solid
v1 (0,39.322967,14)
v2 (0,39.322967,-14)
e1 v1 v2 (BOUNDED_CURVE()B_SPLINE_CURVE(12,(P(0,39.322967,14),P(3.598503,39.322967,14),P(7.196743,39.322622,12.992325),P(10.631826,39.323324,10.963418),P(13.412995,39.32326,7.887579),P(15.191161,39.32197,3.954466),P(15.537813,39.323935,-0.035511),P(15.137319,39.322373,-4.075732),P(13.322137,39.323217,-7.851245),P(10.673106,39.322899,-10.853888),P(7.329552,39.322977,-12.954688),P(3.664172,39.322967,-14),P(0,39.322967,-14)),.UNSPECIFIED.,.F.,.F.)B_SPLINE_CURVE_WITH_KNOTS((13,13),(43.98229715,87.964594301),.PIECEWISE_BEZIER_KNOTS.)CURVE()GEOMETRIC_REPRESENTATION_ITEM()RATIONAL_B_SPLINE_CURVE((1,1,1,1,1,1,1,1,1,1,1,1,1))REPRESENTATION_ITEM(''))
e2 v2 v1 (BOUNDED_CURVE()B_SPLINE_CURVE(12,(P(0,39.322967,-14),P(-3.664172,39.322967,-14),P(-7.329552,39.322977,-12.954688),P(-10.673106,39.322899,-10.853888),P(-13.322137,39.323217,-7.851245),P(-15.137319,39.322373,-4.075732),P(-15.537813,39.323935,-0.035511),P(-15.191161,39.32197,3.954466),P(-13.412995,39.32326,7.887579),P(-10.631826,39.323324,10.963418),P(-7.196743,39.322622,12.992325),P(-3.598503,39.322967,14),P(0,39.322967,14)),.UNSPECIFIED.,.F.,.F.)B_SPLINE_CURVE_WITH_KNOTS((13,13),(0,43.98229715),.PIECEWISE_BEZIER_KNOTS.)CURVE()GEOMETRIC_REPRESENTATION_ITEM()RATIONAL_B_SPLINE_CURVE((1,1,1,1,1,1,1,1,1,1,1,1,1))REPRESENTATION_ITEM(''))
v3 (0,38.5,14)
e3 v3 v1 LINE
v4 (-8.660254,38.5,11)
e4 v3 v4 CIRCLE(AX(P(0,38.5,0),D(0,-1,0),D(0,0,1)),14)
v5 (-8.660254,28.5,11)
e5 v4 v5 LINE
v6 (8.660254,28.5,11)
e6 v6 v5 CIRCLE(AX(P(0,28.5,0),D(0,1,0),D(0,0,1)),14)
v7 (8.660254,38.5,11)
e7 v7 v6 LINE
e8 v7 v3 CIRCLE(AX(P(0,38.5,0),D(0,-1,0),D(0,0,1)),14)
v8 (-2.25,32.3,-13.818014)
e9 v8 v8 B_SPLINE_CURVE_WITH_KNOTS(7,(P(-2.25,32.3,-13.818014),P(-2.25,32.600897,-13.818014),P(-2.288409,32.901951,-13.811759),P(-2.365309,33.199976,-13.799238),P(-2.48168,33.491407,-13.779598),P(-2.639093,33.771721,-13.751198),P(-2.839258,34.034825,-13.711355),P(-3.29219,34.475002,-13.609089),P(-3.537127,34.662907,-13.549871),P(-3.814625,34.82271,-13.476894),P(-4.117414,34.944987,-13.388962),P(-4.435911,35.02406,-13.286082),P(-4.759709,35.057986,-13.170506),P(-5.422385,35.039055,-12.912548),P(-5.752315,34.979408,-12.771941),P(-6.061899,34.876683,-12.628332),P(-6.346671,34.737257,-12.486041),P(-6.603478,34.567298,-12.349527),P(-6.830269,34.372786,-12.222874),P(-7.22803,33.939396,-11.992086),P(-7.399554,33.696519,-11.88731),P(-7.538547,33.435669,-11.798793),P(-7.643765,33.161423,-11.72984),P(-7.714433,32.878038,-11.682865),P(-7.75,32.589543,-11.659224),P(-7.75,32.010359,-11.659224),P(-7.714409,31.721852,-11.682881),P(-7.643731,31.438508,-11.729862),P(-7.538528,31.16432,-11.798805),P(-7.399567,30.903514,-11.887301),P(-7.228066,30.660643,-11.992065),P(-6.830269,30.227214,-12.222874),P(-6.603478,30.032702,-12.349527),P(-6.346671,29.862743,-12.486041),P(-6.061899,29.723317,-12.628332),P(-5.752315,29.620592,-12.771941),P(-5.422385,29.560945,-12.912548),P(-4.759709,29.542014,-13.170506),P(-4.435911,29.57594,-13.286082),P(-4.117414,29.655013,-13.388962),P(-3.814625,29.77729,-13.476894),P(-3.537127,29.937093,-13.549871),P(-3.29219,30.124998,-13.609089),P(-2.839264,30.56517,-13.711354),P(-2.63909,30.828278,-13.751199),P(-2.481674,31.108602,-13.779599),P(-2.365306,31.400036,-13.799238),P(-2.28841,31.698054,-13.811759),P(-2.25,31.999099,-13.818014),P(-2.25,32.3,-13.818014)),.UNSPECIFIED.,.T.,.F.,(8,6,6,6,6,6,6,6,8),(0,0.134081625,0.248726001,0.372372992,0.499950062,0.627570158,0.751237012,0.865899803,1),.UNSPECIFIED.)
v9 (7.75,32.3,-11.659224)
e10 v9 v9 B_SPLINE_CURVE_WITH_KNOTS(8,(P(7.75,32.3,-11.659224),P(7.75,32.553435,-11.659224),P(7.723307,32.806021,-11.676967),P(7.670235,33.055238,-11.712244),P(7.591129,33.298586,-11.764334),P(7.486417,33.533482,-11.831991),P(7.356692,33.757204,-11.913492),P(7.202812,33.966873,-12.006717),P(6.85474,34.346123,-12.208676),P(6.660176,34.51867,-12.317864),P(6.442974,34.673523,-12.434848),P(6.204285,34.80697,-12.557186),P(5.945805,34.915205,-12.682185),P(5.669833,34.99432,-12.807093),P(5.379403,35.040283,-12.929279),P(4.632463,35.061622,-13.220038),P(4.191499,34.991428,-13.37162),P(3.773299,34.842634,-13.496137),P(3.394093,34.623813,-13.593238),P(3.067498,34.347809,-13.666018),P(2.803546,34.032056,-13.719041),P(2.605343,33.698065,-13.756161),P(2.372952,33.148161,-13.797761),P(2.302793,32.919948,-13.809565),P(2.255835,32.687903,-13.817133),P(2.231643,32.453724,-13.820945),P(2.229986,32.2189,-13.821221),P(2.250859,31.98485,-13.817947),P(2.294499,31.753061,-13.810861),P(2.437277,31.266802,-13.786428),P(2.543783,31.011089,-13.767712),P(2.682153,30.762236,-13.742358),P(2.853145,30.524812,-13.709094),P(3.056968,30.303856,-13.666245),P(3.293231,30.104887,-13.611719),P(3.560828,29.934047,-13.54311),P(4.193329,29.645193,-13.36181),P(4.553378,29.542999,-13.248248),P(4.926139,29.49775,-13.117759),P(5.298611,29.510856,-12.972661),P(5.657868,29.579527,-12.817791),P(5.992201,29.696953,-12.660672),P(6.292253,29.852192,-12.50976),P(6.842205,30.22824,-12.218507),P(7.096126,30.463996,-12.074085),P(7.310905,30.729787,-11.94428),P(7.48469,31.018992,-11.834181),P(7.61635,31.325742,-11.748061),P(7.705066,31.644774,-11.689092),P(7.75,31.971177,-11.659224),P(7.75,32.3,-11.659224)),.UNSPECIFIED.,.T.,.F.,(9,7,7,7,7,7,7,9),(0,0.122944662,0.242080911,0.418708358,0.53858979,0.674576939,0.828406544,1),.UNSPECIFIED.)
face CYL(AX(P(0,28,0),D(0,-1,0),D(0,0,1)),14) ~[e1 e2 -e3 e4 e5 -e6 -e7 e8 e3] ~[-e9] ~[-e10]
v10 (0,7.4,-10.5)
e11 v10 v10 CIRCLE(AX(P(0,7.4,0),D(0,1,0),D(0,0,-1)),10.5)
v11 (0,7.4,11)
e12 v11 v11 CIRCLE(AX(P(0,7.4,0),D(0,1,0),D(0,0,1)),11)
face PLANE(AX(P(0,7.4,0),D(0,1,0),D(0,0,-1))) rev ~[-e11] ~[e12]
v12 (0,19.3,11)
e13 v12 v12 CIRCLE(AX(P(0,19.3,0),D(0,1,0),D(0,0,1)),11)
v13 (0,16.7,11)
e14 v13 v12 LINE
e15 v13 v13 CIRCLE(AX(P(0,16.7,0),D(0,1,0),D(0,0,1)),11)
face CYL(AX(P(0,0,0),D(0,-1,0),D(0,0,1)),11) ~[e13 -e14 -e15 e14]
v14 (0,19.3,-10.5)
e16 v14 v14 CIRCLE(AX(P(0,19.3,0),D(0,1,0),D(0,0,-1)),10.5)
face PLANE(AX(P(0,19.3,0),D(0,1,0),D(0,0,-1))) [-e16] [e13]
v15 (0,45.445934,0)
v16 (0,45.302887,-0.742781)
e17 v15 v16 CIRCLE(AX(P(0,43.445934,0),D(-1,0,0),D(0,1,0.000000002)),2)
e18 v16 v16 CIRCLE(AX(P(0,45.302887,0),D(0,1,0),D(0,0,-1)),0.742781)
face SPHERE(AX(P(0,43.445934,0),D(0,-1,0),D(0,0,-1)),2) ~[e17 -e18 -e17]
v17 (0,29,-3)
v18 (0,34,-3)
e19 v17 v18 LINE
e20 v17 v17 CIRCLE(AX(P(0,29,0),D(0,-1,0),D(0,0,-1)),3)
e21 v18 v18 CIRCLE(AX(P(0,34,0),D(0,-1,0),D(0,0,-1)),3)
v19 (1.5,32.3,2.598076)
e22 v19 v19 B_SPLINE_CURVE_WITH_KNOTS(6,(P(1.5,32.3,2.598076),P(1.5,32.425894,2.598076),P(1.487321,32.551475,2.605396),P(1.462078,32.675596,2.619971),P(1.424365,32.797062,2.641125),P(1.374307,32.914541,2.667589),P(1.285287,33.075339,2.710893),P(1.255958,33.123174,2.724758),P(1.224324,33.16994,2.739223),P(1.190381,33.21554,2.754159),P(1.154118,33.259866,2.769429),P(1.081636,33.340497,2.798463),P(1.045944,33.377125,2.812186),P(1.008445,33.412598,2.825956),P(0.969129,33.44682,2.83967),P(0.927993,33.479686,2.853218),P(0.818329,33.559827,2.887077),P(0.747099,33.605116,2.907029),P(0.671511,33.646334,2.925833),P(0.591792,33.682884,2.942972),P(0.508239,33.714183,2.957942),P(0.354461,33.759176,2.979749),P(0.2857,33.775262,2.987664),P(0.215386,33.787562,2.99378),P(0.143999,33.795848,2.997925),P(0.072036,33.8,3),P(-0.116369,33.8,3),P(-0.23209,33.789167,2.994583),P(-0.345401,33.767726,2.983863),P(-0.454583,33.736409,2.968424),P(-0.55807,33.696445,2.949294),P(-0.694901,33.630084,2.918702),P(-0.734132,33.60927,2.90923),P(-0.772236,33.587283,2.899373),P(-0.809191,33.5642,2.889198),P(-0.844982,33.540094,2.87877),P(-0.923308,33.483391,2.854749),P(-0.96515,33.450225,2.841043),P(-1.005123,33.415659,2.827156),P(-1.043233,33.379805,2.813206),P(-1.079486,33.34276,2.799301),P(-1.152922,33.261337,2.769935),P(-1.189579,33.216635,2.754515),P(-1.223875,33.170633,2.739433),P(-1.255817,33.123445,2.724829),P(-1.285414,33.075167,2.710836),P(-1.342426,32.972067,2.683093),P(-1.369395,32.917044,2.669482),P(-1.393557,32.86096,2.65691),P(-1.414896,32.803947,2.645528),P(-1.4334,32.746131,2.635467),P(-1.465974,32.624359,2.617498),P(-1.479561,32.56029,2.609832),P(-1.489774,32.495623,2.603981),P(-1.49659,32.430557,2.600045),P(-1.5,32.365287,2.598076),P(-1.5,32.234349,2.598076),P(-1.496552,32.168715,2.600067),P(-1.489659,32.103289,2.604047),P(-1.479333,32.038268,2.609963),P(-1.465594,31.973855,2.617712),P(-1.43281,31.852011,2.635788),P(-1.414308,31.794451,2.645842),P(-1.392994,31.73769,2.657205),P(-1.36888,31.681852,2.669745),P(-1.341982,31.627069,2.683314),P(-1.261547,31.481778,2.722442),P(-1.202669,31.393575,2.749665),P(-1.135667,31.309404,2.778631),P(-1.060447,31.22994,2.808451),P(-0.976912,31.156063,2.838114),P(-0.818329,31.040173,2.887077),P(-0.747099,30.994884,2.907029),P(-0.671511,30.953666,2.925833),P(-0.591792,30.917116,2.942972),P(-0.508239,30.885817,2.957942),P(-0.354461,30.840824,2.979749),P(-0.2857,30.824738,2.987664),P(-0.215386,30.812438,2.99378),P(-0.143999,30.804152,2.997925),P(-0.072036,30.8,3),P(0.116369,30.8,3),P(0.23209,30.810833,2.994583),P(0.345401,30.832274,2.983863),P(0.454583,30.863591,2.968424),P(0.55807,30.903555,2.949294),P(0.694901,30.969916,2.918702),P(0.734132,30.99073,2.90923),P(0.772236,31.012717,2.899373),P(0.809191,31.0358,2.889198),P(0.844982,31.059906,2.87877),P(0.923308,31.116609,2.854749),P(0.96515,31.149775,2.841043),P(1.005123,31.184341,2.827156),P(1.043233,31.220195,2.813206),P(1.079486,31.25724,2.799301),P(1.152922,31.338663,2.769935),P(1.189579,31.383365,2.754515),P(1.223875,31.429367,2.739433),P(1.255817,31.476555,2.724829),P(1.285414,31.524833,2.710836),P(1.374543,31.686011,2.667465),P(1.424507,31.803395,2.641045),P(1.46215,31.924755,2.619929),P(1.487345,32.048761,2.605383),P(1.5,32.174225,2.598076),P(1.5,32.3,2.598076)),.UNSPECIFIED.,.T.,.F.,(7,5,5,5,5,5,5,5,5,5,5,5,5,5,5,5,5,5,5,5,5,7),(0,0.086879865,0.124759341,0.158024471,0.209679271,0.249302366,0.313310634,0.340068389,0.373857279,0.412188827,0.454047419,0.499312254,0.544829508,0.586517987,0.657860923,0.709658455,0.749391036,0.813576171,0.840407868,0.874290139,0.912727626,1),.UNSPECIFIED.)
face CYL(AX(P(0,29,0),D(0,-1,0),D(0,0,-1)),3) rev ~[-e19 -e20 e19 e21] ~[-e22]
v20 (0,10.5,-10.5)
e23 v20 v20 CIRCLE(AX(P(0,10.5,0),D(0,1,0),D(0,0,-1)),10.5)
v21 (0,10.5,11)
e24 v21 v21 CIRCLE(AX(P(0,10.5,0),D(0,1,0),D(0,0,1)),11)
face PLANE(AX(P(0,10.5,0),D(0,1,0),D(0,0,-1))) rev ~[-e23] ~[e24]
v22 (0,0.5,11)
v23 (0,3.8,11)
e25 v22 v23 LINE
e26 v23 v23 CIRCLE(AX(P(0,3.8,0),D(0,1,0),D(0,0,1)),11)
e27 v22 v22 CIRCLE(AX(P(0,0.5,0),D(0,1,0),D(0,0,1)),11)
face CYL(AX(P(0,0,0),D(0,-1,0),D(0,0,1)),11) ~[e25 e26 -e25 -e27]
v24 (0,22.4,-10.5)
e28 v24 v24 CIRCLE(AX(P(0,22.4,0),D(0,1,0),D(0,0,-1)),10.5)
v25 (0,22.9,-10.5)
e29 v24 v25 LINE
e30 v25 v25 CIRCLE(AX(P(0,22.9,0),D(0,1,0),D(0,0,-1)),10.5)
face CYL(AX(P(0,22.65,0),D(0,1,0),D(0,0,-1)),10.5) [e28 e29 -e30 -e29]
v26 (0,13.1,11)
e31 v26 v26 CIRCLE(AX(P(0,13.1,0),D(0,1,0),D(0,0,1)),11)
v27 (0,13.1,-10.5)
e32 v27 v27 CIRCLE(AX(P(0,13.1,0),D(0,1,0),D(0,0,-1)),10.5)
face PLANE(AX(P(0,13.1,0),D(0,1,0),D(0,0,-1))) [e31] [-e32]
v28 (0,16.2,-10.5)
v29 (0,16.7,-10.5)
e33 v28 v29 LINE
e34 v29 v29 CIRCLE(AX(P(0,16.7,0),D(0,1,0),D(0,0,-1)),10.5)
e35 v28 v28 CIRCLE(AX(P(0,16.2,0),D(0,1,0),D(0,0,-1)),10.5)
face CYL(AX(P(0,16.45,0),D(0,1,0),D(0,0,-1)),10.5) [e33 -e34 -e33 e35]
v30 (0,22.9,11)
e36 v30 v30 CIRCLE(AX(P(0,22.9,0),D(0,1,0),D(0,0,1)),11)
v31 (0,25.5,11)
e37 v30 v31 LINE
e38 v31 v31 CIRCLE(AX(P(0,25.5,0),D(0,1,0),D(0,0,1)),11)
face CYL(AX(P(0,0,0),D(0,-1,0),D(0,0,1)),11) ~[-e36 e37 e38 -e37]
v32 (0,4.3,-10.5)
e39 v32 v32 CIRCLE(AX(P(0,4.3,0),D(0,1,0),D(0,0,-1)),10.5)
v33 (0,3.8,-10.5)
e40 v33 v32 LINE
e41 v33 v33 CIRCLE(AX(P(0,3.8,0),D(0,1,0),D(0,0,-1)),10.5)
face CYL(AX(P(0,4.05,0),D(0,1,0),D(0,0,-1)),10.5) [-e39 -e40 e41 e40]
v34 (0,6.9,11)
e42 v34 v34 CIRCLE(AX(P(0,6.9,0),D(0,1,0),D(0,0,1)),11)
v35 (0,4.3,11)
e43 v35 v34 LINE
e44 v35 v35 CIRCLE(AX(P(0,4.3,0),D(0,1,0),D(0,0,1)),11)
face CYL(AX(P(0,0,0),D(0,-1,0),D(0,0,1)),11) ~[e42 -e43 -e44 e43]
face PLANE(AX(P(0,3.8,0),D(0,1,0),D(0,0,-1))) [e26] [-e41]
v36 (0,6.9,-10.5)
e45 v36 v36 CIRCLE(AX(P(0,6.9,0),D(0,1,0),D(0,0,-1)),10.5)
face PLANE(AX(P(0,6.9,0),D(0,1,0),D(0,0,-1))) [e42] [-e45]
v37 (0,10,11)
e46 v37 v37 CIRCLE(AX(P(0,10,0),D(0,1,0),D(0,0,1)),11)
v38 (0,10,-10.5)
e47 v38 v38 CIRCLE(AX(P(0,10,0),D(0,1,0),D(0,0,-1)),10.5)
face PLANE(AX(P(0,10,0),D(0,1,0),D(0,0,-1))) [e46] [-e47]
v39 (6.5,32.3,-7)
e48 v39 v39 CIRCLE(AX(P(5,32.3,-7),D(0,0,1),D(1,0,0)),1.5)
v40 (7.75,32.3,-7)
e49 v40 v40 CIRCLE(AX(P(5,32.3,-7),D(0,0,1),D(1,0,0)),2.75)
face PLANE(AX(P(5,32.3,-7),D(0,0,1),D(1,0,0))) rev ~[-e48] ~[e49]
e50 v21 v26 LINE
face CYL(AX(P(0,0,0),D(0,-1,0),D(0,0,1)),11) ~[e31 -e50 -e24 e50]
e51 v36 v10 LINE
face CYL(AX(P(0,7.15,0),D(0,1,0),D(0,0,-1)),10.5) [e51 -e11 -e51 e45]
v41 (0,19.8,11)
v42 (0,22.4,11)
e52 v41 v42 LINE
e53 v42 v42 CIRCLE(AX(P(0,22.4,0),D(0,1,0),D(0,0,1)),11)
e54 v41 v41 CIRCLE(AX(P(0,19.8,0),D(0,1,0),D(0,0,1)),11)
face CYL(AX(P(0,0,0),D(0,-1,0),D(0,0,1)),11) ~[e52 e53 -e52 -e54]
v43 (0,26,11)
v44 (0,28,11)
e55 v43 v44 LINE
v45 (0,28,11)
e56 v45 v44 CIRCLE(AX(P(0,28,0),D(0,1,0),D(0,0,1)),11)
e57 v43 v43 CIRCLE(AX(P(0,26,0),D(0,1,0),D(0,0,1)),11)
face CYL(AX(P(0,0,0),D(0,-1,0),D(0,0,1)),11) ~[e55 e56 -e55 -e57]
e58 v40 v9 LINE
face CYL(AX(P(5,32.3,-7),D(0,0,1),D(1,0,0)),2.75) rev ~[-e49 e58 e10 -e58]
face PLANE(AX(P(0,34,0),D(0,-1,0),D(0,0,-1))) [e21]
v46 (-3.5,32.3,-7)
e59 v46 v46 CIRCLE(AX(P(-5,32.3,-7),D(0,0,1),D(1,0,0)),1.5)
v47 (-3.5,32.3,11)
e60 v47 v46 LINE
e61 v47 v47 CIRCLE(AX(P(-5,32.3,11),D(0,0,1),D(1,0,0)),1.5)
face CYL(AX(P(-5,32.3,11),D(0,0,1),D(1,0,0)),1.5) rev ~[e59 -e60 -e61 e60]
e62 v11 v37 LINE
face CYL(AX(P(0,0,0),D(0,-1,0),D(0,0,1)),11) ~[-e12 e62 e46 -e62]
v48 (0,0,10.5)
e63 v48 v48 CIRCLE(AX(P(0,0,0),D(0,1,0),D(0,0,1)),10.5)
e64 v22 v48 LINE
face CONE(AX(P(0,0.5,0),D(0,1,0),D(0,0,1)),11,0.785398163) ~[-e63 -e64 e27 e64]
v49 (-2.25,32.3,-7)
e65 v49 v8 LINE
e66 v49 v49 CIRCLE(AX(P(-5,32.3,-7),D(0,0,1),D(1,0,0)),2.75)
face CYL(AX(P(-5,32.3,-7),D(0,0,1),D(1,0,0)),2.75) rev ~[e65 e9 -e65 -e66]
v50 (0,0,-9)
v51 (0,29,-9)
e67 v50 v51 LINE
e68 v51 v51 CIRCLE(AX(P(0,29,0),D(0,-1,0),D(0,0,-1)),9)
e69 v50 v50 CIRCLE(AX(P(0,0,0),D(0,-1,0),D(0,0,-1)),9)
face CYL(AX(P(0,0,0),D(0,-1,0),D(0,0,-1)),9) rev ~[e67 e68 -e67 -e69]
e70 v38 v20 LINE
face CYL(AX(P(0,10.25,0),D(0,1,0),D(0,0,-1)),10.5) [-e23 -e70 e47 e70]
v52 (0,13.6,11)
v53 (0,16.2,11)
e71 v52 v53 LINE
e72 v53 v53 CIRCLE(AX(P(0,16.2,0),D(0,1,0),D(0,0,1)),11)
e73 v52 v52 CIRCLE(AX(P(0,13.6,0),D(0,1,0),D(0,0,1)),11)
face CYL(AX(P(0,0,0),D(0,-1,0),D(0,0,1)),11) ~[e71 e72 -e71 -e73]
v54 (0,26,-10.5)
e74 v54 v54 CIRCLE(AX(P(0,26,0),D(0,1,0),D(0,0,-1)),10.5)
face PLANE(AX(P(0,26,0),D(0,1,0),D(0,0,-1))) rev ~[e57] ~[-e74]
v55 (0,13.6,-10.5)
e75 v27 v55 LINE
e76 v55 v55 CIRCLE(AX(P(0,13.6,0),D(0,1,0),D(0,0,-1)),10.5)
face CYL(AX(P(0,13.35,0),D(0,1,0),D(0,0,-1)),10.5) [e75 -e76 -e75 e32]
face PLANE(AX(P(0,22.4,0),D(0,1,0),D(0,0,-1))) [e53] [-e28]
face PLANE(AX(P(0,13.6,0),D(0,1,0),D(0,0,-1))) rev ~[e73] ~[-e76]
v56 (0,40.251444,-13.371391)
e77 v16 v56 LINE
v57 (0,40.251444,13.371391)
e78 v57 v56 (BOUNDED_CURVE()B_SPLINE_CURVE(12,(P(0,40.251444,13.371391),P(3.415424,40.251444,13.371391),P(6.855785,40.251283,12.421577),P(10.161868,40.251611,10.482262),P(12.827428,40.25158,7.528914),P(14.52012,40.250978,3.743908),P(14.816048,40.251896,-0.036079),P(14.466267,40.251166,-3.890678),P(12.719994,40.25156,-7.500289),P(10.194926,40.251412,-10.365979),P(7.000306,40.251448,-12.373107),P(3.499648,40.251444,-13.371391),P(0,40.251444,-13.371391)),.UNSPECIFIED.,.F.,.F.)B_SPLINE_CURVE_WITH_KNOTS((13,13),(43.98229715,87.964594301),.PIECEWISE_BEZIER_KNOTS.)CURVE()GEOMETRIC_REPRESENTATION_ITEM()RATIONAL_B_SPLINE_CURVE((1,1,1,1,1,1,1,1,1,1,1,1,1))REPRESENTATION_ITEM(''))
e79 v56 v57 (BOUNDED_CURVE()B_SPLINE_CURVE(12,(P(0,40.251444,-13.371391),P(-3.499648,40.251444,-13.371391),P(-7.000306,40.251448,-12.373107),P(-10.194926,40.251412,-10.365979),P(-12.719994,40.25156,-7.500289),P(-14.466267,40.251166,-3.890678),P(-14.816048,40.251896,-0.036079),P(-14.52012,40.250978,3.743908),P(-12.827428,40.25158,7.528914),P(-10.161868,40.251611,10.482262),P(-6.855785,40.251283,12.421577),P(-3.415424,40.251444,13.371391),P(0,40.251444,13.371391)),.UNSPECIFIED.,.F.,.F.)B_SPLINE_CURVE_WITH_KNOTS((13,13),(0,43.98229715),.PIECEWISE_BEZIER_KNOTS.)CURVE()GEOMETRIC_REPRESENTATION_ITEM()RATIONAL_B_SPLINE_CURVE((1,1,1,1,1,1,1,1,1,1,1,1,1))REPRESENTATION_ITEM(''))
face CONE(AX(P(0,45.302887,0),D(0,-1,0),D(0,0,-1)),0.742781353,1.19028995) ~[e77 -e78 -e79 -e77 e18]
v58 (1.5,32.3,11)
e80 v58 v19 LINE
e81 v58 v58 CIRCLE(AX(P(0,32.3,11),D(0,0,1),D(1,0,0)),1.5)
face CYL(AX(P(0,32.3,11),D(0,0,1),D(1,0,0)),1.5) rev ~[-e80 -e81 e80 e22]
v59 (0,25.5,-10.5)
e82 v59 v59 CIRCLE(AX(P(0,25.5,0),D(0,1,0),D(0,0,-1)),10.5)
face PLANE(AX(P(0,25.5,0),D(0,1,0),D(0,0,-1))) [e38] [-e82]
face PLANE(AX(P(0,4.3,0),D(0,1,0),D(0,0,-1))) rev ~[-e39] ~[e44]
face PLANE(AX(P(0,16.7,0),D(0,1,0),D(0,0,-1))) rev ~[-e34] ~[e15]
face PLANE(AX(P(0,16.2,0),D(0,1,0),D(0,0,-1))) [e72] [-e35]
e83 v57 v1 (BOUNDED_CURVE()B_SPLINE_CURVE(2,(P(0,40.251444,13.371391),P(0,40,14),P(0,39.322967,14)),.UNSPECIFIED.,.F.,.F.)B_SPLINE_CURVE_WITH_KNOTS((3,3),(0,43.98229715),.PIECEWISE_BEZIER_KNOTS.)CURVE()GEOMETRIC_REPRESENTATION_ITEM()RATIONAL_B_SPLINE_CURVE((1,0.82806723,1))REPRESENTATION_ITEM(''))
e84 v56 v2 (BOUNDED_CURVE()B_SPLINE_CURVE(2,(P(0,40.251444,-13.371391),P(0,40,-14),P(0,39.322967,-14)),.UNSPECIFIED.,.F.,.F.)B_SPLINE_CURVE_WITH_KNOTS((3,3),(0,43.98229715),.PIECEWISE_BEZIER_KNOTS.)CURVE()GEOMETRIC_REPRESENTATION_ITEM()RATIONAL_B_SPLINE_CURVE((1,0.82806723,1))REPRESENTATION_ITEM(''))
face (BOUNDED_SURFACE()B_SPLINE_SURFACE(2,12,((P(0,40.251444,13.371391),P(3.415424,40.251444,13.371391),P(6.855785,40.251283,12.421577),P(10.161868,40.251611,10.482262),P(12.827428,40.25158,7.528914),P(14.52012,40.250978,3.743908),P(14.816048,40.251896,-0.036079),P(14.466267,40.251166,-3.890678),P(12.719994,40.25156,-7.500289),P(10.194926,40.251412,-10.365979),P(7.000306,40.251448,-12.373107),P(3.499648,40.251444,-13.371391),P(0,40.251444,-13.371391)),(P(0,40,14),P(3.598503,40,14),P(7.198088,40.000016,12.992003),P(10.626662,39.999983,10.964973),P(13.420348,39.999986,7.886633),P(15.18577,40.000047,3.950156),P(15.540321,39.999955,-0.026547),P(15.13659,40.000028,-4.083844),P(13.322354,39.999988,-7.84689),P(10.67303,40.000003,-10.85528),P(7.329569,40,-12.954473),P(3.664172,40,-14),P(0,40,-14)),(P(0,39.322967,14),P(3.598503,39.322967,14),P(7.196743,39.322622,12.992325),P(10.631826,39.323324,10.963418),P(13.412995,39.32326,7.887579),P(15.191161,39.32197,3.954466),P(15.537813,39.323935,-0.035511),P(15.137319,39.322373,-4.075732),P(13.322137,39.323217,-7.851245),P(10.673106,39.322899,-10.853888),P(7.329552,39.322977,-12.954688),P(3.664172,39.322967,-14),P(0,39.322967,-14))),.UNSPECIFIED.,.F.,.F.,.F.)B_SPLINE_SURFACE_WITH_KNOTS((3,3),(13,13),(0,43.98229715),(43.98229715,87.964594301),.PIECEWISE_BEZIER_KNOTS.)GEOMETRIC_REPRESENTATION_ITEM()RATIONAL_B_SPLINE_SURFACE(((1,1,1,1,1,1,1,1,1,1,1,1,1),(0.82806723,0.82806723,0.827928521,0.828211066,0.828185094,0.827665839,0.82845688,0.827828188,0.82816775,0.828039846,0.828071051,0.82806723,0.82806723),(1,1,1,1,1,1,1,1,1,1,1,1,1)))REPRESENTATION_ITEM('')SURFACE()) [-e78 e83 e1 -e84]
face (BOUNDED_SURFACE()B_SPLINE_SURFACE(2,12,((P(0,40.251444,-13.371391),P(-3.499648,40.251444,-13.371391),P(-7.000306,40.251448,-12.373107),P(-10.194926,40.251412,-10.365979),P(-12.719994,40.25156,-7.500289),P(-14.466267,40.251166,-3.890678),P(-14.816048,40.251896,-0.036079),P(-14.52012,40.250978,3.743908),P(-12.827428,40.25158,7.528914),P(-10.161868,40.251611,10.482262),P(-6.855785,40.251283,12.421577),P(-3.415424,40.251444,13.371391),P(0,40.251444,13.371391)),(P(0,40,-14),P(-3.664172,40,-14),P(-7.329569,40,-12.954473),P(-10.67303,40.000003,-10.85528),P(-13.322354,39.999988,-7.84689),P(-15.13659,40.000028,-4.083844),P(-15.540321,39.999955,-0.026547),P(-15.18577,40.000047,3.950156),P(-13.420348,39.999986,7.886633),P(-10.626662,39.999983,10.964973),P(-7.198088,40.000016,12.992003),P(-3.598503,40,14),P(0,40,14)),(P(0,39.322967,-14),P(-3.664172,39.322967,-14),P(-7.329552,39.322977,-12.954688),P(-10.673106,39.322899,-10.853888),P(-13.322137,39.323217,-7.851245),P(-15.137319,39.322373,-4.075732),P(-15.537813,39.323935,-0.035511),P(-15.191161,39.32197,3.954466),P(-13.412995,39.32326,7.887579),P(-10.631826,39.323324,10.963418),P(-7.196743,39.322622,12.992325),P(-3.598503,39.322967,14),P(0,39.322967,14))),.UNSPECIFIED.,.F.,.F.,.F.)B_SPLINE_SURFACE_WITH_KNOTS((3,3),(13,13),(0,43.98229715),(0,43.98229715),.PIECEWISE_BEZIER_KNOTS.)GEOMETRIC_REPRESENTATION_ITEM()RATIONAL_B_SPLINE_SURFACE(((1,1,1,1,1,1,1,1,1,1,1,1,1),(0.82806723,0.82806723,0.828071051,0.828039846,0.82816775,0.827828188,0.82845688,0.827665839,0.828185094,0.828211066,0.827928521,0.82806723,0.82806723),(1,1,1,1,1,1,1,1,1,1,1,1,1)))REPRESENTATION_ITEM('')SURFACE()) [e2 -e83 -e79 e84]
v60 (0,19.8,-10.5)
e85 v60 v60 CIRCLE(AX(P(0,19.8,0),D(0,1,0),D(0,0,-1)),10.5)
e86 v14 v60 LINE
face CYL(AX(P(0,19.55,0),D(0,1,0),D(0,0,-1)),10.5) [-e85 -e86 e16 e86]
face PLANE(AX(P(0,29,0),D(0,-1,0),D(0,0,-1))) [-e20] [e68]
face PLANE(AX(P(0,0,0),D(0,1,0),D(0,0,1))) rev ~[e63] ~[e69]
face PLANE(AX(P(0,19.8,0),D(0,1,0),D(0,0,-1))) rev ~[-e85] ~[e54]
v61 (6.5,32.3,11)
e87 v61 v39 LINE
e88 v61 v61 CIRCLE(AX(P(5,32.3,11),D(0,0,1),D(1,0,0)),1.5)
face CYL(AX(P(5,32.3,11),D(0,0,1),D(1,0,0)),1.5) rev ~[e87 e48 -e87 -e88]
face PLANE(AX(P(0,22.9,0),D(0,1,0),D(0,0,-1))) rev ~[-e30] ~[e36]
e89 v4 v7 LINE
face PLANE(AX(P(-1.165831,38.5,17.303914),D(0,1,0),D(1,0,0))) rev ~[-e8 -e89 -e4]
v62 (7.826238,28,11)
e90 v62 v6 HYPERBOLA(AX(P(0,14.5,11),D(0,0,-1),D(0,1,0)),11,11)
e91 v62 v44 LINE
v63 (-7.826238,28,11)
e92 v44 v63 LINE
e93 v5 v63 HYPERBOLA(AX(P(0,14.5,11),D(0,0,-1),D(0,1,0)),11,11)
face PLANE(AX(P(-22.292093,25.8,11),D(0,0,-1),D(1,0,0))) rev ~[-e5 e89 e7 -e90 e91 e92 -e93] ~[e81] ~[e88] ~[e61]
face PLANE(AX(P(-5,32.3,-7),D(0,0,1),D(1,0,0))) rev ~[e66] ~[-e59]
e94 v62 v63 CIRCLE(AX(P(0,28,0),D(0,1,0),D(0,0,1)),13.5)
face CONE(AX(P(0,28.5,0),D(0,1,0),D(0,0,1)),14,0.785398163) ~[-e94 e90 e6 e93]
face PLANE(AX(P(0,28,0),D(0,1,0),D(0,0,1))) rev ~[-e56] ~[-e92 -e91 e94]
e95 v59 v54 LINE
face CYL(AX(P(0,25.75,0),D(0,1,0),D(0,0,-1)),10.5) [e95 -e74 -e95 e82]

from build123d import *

# Parameters (mm, degrees)
SKETCH_1_R               = 11
EXTRUDE_1_DEPTH          = 28
SKETCH_2_R               = 14
EXTRUDE_2_DEPTH          = 12
FILLET_1_R               = 1
CHAMFER_1_SIZE           = 0.5
SKETCH_4_W               = 0.5
SKETCH_4_H               = 0.5
SKETCH_5_R               = 9
CUT_EXTRUDE_1_DEPTH      = 29
SKETCH_6_R               = 3
CUT_EXTRUDE_2_DEPTH      = 5
CUT_EXTRUDE_3_DEPTH      = 10.5
CUT_EXTRUDE_3_DEPTH_BACK = 2.2
CUT_EXTRUDE_3_START      = 28
SKETCH_7_W               = 42.252524986
SKETCH_7_H               = 12.607828389
SKETCH_8_R               = 1.5
CUT_EXTRUDE_4_DEPTH      = 10.5
SKETCH_8_3_R             = 1.5
CUT_EXTRUDE_5_DEPTH      = 54.724603976
CUT_EXTRUDE_START        = -7
SKETCH_9_R               = 2.75
CUT_EXTRUDE_6_DEPTH      = 10.5


with BuildPart() as part:
    # 草图1 → 凸台-拉伸1 (new body)
    with BuildSketch(Plane(origin=(0, 0, 0), x_dir=(1, 0, 0), z_dir=(0, 1, 0))):
        with Locations(Location((0, 0, 0), (0, 0, 270))):
            Circle(SKETCH_1_R)
    extrude(amount=EXTRUDE_1_DEPTH)

    # 草图2 → 凸台-拉伸2 (add)
    with BuildSketch(Plane(origin=(0, 28, 0), x_dir=(1, 0, 0), z_dir=(0, 1, 0))):
        with Locations(Location((0, 0, 0), (0, 0, 270))):
            Circle(SKETCH_2_R)
    extrude(amount=EXTRUDE_2_DEPTH)

    # 草图3 → 旋转1 (revolve)
    with BuildSketch(Plane.XY, mode=Mode.PRIVATE) as revolve_1_sk:
        with BuildLine():
            Line((-14, 40), (0, 40))
            Line((0, 40), (0, 45.445934077))
            ThreePointArc((0, 45.445934077), (-0.378215042, 45.409846851), (-0.742781353, 45.302887459))
            Line((-0.742781353, 45.302887459), (-14, 40))
        make_face()
    revolve(revolve_1_sk.sketch.rotate(Axis((0, 0, 0), (0, 1, 0)), 270), axis=Axis((0, 0, 0), (0, 1, 0)))

    # 圆角1
    fillet_1_edges = [part.edges().sort_by_distance(p)[0] for p in [
        (-14, 40, 0),
    ]]
    fillet(fillet_1_edges, radius=FILLET_1_R)

    # 倒角1
    chamfer_1_edges = [part.edges().sort_by_distance(p)[0] for p in [
        (0, 0, -11),
        (0, 28, -14),
    ]]
    chamfer(chamfer_1_edges, length=CHAMFER_1_SIZE)

    # 草图4 → 切除-旋转1 (revolve, cut)
    with BuildSketch(Plane(origin=(0, 0, 0), x_dir=(0, 0, -1), z_dir=(1, 0, 0)), mode=Mode.PRIVATE) as cut_revolve_1_sk:
        with Locations((-10.75, 25.75)):
            Rectangle(SKETCH_4_W, SKETCH_4_H)
        with Locations((-10.75, 22.65)):
            Rectangle(SKETCH_4_W, SKETCH_4_H)
        with Locations((-10.75, 19.55)):
            Rectangle(SKETCH_4_W, SKETCH_4_H)
        with Locations((-10.75, 16.45)):
            Rectangle(SKETCH_4_W, SKETCH_4_H)
        with Locations((-10.75, 13.35)):
            Rectangle(SKETCH_4_W, SKETCH_4_H)
        with Locations((-10.75, 10.25)):
            Rectangle(SKETCH_4_W, SKETCH_4_H)
        with Locations((-10.75, 7.15)):
            Rectangle(SKETCH_4_W, SKETCH_4_H)
        with Locations((-10.75, 4.05)):
            Rectangle(SKETCH_4_W, SKETCH_4_H)
    revolve(cut_revolve_1_sk.sketch.rotate(Axis((0, 0, 0), (0, 1, 0)), 180), axis=Axis((0, 0, 0), (0, 1, 0)), mode=Mode.SUBTRACT)

    # 草图5 → 切除-拉伸1 (cut)
    with BuildSketch(Plane.XZ):
        with Locations(Location((0, 0, 0), (0, 0, 270))):
            Circle(SKETCH_5_R)
    extrude(amount=-CUT_EXTRUDE_1_DEPTH, mode=Mode.SUBTRACT)

    # 草图6 → 切除-拉伸2 (cut)
    with BuildSketch(Plane.XZ.offset(-29)):
        with Locations(Location((0, 0, 0), (0, 0, 270))):
            Circle(SKETCH_6_R)
    extrude(amount=-CUT_EXTRUDE_2_DEPTH, mode=Mode.SUBTRACT)

    # 草图7 → 切除-拉伸3 (cut, two sides: drawn at the far end of the back side and taken through both)
    with BuildSketch(Plane(origin=(0, 0, 0), x_dir=(1, 0, 0), z_dir=(0, 1, 0)).offset(CUT_EXTRUDE_3_START - CUT_EXTRUDE_3_DEPTH_BACK)):
        with Locations((-1.165830539, -17.303914195)):
            Rectangle(SKETCH_7_W, SKETCH_7_H)
    extrude(amount=CUT_EXTRUDE_3_DEPTH + CUT_EXTRUDE_3_DEPTH_BACK, mode=Mode.SUBTRACT)

    # 草图8 → 切除-拉伸4 (cut)
    with BuildSketch(Plane.XY.offset(11)):
        with Locations((0, 32.3)):
            Circle(SKETCH_8_R)
    extrude(amount=-CUT_EXTRUDE_4_DEPTH, mode=Mode.SUBTRACT)

    # 草图8<3> → 切除-拉伸5 (cut, through all)
    with BuildSketch(Plane.XY.offset(11)):
        with Locations((-5, 32.3)):
            Circle(SKETCH_8_3_R)
        with Locations((5, 32.3)):
            Circle(SKETCH_8_3_R)
    extrude(amount=-CUT_EXTRUDE_5_DEPTH, mode=Mode.SUBTRACT)

    # 草图9 → 切除-拉伸6 (cut)
    with BuildSketch(Plane.XY.offset(CUT_EXTRUDE_START)):
        with Locations((5, 32.3)):
            Circle(SKETCH_9_R)
        with Locations((-5, 32.3)):
            Circle(SKETCH_9_R)
    extrude(amount=-CUT_EXTRUDE_6_DEPTH, mode=Mode.SUBTRACT)


solid = part.part
